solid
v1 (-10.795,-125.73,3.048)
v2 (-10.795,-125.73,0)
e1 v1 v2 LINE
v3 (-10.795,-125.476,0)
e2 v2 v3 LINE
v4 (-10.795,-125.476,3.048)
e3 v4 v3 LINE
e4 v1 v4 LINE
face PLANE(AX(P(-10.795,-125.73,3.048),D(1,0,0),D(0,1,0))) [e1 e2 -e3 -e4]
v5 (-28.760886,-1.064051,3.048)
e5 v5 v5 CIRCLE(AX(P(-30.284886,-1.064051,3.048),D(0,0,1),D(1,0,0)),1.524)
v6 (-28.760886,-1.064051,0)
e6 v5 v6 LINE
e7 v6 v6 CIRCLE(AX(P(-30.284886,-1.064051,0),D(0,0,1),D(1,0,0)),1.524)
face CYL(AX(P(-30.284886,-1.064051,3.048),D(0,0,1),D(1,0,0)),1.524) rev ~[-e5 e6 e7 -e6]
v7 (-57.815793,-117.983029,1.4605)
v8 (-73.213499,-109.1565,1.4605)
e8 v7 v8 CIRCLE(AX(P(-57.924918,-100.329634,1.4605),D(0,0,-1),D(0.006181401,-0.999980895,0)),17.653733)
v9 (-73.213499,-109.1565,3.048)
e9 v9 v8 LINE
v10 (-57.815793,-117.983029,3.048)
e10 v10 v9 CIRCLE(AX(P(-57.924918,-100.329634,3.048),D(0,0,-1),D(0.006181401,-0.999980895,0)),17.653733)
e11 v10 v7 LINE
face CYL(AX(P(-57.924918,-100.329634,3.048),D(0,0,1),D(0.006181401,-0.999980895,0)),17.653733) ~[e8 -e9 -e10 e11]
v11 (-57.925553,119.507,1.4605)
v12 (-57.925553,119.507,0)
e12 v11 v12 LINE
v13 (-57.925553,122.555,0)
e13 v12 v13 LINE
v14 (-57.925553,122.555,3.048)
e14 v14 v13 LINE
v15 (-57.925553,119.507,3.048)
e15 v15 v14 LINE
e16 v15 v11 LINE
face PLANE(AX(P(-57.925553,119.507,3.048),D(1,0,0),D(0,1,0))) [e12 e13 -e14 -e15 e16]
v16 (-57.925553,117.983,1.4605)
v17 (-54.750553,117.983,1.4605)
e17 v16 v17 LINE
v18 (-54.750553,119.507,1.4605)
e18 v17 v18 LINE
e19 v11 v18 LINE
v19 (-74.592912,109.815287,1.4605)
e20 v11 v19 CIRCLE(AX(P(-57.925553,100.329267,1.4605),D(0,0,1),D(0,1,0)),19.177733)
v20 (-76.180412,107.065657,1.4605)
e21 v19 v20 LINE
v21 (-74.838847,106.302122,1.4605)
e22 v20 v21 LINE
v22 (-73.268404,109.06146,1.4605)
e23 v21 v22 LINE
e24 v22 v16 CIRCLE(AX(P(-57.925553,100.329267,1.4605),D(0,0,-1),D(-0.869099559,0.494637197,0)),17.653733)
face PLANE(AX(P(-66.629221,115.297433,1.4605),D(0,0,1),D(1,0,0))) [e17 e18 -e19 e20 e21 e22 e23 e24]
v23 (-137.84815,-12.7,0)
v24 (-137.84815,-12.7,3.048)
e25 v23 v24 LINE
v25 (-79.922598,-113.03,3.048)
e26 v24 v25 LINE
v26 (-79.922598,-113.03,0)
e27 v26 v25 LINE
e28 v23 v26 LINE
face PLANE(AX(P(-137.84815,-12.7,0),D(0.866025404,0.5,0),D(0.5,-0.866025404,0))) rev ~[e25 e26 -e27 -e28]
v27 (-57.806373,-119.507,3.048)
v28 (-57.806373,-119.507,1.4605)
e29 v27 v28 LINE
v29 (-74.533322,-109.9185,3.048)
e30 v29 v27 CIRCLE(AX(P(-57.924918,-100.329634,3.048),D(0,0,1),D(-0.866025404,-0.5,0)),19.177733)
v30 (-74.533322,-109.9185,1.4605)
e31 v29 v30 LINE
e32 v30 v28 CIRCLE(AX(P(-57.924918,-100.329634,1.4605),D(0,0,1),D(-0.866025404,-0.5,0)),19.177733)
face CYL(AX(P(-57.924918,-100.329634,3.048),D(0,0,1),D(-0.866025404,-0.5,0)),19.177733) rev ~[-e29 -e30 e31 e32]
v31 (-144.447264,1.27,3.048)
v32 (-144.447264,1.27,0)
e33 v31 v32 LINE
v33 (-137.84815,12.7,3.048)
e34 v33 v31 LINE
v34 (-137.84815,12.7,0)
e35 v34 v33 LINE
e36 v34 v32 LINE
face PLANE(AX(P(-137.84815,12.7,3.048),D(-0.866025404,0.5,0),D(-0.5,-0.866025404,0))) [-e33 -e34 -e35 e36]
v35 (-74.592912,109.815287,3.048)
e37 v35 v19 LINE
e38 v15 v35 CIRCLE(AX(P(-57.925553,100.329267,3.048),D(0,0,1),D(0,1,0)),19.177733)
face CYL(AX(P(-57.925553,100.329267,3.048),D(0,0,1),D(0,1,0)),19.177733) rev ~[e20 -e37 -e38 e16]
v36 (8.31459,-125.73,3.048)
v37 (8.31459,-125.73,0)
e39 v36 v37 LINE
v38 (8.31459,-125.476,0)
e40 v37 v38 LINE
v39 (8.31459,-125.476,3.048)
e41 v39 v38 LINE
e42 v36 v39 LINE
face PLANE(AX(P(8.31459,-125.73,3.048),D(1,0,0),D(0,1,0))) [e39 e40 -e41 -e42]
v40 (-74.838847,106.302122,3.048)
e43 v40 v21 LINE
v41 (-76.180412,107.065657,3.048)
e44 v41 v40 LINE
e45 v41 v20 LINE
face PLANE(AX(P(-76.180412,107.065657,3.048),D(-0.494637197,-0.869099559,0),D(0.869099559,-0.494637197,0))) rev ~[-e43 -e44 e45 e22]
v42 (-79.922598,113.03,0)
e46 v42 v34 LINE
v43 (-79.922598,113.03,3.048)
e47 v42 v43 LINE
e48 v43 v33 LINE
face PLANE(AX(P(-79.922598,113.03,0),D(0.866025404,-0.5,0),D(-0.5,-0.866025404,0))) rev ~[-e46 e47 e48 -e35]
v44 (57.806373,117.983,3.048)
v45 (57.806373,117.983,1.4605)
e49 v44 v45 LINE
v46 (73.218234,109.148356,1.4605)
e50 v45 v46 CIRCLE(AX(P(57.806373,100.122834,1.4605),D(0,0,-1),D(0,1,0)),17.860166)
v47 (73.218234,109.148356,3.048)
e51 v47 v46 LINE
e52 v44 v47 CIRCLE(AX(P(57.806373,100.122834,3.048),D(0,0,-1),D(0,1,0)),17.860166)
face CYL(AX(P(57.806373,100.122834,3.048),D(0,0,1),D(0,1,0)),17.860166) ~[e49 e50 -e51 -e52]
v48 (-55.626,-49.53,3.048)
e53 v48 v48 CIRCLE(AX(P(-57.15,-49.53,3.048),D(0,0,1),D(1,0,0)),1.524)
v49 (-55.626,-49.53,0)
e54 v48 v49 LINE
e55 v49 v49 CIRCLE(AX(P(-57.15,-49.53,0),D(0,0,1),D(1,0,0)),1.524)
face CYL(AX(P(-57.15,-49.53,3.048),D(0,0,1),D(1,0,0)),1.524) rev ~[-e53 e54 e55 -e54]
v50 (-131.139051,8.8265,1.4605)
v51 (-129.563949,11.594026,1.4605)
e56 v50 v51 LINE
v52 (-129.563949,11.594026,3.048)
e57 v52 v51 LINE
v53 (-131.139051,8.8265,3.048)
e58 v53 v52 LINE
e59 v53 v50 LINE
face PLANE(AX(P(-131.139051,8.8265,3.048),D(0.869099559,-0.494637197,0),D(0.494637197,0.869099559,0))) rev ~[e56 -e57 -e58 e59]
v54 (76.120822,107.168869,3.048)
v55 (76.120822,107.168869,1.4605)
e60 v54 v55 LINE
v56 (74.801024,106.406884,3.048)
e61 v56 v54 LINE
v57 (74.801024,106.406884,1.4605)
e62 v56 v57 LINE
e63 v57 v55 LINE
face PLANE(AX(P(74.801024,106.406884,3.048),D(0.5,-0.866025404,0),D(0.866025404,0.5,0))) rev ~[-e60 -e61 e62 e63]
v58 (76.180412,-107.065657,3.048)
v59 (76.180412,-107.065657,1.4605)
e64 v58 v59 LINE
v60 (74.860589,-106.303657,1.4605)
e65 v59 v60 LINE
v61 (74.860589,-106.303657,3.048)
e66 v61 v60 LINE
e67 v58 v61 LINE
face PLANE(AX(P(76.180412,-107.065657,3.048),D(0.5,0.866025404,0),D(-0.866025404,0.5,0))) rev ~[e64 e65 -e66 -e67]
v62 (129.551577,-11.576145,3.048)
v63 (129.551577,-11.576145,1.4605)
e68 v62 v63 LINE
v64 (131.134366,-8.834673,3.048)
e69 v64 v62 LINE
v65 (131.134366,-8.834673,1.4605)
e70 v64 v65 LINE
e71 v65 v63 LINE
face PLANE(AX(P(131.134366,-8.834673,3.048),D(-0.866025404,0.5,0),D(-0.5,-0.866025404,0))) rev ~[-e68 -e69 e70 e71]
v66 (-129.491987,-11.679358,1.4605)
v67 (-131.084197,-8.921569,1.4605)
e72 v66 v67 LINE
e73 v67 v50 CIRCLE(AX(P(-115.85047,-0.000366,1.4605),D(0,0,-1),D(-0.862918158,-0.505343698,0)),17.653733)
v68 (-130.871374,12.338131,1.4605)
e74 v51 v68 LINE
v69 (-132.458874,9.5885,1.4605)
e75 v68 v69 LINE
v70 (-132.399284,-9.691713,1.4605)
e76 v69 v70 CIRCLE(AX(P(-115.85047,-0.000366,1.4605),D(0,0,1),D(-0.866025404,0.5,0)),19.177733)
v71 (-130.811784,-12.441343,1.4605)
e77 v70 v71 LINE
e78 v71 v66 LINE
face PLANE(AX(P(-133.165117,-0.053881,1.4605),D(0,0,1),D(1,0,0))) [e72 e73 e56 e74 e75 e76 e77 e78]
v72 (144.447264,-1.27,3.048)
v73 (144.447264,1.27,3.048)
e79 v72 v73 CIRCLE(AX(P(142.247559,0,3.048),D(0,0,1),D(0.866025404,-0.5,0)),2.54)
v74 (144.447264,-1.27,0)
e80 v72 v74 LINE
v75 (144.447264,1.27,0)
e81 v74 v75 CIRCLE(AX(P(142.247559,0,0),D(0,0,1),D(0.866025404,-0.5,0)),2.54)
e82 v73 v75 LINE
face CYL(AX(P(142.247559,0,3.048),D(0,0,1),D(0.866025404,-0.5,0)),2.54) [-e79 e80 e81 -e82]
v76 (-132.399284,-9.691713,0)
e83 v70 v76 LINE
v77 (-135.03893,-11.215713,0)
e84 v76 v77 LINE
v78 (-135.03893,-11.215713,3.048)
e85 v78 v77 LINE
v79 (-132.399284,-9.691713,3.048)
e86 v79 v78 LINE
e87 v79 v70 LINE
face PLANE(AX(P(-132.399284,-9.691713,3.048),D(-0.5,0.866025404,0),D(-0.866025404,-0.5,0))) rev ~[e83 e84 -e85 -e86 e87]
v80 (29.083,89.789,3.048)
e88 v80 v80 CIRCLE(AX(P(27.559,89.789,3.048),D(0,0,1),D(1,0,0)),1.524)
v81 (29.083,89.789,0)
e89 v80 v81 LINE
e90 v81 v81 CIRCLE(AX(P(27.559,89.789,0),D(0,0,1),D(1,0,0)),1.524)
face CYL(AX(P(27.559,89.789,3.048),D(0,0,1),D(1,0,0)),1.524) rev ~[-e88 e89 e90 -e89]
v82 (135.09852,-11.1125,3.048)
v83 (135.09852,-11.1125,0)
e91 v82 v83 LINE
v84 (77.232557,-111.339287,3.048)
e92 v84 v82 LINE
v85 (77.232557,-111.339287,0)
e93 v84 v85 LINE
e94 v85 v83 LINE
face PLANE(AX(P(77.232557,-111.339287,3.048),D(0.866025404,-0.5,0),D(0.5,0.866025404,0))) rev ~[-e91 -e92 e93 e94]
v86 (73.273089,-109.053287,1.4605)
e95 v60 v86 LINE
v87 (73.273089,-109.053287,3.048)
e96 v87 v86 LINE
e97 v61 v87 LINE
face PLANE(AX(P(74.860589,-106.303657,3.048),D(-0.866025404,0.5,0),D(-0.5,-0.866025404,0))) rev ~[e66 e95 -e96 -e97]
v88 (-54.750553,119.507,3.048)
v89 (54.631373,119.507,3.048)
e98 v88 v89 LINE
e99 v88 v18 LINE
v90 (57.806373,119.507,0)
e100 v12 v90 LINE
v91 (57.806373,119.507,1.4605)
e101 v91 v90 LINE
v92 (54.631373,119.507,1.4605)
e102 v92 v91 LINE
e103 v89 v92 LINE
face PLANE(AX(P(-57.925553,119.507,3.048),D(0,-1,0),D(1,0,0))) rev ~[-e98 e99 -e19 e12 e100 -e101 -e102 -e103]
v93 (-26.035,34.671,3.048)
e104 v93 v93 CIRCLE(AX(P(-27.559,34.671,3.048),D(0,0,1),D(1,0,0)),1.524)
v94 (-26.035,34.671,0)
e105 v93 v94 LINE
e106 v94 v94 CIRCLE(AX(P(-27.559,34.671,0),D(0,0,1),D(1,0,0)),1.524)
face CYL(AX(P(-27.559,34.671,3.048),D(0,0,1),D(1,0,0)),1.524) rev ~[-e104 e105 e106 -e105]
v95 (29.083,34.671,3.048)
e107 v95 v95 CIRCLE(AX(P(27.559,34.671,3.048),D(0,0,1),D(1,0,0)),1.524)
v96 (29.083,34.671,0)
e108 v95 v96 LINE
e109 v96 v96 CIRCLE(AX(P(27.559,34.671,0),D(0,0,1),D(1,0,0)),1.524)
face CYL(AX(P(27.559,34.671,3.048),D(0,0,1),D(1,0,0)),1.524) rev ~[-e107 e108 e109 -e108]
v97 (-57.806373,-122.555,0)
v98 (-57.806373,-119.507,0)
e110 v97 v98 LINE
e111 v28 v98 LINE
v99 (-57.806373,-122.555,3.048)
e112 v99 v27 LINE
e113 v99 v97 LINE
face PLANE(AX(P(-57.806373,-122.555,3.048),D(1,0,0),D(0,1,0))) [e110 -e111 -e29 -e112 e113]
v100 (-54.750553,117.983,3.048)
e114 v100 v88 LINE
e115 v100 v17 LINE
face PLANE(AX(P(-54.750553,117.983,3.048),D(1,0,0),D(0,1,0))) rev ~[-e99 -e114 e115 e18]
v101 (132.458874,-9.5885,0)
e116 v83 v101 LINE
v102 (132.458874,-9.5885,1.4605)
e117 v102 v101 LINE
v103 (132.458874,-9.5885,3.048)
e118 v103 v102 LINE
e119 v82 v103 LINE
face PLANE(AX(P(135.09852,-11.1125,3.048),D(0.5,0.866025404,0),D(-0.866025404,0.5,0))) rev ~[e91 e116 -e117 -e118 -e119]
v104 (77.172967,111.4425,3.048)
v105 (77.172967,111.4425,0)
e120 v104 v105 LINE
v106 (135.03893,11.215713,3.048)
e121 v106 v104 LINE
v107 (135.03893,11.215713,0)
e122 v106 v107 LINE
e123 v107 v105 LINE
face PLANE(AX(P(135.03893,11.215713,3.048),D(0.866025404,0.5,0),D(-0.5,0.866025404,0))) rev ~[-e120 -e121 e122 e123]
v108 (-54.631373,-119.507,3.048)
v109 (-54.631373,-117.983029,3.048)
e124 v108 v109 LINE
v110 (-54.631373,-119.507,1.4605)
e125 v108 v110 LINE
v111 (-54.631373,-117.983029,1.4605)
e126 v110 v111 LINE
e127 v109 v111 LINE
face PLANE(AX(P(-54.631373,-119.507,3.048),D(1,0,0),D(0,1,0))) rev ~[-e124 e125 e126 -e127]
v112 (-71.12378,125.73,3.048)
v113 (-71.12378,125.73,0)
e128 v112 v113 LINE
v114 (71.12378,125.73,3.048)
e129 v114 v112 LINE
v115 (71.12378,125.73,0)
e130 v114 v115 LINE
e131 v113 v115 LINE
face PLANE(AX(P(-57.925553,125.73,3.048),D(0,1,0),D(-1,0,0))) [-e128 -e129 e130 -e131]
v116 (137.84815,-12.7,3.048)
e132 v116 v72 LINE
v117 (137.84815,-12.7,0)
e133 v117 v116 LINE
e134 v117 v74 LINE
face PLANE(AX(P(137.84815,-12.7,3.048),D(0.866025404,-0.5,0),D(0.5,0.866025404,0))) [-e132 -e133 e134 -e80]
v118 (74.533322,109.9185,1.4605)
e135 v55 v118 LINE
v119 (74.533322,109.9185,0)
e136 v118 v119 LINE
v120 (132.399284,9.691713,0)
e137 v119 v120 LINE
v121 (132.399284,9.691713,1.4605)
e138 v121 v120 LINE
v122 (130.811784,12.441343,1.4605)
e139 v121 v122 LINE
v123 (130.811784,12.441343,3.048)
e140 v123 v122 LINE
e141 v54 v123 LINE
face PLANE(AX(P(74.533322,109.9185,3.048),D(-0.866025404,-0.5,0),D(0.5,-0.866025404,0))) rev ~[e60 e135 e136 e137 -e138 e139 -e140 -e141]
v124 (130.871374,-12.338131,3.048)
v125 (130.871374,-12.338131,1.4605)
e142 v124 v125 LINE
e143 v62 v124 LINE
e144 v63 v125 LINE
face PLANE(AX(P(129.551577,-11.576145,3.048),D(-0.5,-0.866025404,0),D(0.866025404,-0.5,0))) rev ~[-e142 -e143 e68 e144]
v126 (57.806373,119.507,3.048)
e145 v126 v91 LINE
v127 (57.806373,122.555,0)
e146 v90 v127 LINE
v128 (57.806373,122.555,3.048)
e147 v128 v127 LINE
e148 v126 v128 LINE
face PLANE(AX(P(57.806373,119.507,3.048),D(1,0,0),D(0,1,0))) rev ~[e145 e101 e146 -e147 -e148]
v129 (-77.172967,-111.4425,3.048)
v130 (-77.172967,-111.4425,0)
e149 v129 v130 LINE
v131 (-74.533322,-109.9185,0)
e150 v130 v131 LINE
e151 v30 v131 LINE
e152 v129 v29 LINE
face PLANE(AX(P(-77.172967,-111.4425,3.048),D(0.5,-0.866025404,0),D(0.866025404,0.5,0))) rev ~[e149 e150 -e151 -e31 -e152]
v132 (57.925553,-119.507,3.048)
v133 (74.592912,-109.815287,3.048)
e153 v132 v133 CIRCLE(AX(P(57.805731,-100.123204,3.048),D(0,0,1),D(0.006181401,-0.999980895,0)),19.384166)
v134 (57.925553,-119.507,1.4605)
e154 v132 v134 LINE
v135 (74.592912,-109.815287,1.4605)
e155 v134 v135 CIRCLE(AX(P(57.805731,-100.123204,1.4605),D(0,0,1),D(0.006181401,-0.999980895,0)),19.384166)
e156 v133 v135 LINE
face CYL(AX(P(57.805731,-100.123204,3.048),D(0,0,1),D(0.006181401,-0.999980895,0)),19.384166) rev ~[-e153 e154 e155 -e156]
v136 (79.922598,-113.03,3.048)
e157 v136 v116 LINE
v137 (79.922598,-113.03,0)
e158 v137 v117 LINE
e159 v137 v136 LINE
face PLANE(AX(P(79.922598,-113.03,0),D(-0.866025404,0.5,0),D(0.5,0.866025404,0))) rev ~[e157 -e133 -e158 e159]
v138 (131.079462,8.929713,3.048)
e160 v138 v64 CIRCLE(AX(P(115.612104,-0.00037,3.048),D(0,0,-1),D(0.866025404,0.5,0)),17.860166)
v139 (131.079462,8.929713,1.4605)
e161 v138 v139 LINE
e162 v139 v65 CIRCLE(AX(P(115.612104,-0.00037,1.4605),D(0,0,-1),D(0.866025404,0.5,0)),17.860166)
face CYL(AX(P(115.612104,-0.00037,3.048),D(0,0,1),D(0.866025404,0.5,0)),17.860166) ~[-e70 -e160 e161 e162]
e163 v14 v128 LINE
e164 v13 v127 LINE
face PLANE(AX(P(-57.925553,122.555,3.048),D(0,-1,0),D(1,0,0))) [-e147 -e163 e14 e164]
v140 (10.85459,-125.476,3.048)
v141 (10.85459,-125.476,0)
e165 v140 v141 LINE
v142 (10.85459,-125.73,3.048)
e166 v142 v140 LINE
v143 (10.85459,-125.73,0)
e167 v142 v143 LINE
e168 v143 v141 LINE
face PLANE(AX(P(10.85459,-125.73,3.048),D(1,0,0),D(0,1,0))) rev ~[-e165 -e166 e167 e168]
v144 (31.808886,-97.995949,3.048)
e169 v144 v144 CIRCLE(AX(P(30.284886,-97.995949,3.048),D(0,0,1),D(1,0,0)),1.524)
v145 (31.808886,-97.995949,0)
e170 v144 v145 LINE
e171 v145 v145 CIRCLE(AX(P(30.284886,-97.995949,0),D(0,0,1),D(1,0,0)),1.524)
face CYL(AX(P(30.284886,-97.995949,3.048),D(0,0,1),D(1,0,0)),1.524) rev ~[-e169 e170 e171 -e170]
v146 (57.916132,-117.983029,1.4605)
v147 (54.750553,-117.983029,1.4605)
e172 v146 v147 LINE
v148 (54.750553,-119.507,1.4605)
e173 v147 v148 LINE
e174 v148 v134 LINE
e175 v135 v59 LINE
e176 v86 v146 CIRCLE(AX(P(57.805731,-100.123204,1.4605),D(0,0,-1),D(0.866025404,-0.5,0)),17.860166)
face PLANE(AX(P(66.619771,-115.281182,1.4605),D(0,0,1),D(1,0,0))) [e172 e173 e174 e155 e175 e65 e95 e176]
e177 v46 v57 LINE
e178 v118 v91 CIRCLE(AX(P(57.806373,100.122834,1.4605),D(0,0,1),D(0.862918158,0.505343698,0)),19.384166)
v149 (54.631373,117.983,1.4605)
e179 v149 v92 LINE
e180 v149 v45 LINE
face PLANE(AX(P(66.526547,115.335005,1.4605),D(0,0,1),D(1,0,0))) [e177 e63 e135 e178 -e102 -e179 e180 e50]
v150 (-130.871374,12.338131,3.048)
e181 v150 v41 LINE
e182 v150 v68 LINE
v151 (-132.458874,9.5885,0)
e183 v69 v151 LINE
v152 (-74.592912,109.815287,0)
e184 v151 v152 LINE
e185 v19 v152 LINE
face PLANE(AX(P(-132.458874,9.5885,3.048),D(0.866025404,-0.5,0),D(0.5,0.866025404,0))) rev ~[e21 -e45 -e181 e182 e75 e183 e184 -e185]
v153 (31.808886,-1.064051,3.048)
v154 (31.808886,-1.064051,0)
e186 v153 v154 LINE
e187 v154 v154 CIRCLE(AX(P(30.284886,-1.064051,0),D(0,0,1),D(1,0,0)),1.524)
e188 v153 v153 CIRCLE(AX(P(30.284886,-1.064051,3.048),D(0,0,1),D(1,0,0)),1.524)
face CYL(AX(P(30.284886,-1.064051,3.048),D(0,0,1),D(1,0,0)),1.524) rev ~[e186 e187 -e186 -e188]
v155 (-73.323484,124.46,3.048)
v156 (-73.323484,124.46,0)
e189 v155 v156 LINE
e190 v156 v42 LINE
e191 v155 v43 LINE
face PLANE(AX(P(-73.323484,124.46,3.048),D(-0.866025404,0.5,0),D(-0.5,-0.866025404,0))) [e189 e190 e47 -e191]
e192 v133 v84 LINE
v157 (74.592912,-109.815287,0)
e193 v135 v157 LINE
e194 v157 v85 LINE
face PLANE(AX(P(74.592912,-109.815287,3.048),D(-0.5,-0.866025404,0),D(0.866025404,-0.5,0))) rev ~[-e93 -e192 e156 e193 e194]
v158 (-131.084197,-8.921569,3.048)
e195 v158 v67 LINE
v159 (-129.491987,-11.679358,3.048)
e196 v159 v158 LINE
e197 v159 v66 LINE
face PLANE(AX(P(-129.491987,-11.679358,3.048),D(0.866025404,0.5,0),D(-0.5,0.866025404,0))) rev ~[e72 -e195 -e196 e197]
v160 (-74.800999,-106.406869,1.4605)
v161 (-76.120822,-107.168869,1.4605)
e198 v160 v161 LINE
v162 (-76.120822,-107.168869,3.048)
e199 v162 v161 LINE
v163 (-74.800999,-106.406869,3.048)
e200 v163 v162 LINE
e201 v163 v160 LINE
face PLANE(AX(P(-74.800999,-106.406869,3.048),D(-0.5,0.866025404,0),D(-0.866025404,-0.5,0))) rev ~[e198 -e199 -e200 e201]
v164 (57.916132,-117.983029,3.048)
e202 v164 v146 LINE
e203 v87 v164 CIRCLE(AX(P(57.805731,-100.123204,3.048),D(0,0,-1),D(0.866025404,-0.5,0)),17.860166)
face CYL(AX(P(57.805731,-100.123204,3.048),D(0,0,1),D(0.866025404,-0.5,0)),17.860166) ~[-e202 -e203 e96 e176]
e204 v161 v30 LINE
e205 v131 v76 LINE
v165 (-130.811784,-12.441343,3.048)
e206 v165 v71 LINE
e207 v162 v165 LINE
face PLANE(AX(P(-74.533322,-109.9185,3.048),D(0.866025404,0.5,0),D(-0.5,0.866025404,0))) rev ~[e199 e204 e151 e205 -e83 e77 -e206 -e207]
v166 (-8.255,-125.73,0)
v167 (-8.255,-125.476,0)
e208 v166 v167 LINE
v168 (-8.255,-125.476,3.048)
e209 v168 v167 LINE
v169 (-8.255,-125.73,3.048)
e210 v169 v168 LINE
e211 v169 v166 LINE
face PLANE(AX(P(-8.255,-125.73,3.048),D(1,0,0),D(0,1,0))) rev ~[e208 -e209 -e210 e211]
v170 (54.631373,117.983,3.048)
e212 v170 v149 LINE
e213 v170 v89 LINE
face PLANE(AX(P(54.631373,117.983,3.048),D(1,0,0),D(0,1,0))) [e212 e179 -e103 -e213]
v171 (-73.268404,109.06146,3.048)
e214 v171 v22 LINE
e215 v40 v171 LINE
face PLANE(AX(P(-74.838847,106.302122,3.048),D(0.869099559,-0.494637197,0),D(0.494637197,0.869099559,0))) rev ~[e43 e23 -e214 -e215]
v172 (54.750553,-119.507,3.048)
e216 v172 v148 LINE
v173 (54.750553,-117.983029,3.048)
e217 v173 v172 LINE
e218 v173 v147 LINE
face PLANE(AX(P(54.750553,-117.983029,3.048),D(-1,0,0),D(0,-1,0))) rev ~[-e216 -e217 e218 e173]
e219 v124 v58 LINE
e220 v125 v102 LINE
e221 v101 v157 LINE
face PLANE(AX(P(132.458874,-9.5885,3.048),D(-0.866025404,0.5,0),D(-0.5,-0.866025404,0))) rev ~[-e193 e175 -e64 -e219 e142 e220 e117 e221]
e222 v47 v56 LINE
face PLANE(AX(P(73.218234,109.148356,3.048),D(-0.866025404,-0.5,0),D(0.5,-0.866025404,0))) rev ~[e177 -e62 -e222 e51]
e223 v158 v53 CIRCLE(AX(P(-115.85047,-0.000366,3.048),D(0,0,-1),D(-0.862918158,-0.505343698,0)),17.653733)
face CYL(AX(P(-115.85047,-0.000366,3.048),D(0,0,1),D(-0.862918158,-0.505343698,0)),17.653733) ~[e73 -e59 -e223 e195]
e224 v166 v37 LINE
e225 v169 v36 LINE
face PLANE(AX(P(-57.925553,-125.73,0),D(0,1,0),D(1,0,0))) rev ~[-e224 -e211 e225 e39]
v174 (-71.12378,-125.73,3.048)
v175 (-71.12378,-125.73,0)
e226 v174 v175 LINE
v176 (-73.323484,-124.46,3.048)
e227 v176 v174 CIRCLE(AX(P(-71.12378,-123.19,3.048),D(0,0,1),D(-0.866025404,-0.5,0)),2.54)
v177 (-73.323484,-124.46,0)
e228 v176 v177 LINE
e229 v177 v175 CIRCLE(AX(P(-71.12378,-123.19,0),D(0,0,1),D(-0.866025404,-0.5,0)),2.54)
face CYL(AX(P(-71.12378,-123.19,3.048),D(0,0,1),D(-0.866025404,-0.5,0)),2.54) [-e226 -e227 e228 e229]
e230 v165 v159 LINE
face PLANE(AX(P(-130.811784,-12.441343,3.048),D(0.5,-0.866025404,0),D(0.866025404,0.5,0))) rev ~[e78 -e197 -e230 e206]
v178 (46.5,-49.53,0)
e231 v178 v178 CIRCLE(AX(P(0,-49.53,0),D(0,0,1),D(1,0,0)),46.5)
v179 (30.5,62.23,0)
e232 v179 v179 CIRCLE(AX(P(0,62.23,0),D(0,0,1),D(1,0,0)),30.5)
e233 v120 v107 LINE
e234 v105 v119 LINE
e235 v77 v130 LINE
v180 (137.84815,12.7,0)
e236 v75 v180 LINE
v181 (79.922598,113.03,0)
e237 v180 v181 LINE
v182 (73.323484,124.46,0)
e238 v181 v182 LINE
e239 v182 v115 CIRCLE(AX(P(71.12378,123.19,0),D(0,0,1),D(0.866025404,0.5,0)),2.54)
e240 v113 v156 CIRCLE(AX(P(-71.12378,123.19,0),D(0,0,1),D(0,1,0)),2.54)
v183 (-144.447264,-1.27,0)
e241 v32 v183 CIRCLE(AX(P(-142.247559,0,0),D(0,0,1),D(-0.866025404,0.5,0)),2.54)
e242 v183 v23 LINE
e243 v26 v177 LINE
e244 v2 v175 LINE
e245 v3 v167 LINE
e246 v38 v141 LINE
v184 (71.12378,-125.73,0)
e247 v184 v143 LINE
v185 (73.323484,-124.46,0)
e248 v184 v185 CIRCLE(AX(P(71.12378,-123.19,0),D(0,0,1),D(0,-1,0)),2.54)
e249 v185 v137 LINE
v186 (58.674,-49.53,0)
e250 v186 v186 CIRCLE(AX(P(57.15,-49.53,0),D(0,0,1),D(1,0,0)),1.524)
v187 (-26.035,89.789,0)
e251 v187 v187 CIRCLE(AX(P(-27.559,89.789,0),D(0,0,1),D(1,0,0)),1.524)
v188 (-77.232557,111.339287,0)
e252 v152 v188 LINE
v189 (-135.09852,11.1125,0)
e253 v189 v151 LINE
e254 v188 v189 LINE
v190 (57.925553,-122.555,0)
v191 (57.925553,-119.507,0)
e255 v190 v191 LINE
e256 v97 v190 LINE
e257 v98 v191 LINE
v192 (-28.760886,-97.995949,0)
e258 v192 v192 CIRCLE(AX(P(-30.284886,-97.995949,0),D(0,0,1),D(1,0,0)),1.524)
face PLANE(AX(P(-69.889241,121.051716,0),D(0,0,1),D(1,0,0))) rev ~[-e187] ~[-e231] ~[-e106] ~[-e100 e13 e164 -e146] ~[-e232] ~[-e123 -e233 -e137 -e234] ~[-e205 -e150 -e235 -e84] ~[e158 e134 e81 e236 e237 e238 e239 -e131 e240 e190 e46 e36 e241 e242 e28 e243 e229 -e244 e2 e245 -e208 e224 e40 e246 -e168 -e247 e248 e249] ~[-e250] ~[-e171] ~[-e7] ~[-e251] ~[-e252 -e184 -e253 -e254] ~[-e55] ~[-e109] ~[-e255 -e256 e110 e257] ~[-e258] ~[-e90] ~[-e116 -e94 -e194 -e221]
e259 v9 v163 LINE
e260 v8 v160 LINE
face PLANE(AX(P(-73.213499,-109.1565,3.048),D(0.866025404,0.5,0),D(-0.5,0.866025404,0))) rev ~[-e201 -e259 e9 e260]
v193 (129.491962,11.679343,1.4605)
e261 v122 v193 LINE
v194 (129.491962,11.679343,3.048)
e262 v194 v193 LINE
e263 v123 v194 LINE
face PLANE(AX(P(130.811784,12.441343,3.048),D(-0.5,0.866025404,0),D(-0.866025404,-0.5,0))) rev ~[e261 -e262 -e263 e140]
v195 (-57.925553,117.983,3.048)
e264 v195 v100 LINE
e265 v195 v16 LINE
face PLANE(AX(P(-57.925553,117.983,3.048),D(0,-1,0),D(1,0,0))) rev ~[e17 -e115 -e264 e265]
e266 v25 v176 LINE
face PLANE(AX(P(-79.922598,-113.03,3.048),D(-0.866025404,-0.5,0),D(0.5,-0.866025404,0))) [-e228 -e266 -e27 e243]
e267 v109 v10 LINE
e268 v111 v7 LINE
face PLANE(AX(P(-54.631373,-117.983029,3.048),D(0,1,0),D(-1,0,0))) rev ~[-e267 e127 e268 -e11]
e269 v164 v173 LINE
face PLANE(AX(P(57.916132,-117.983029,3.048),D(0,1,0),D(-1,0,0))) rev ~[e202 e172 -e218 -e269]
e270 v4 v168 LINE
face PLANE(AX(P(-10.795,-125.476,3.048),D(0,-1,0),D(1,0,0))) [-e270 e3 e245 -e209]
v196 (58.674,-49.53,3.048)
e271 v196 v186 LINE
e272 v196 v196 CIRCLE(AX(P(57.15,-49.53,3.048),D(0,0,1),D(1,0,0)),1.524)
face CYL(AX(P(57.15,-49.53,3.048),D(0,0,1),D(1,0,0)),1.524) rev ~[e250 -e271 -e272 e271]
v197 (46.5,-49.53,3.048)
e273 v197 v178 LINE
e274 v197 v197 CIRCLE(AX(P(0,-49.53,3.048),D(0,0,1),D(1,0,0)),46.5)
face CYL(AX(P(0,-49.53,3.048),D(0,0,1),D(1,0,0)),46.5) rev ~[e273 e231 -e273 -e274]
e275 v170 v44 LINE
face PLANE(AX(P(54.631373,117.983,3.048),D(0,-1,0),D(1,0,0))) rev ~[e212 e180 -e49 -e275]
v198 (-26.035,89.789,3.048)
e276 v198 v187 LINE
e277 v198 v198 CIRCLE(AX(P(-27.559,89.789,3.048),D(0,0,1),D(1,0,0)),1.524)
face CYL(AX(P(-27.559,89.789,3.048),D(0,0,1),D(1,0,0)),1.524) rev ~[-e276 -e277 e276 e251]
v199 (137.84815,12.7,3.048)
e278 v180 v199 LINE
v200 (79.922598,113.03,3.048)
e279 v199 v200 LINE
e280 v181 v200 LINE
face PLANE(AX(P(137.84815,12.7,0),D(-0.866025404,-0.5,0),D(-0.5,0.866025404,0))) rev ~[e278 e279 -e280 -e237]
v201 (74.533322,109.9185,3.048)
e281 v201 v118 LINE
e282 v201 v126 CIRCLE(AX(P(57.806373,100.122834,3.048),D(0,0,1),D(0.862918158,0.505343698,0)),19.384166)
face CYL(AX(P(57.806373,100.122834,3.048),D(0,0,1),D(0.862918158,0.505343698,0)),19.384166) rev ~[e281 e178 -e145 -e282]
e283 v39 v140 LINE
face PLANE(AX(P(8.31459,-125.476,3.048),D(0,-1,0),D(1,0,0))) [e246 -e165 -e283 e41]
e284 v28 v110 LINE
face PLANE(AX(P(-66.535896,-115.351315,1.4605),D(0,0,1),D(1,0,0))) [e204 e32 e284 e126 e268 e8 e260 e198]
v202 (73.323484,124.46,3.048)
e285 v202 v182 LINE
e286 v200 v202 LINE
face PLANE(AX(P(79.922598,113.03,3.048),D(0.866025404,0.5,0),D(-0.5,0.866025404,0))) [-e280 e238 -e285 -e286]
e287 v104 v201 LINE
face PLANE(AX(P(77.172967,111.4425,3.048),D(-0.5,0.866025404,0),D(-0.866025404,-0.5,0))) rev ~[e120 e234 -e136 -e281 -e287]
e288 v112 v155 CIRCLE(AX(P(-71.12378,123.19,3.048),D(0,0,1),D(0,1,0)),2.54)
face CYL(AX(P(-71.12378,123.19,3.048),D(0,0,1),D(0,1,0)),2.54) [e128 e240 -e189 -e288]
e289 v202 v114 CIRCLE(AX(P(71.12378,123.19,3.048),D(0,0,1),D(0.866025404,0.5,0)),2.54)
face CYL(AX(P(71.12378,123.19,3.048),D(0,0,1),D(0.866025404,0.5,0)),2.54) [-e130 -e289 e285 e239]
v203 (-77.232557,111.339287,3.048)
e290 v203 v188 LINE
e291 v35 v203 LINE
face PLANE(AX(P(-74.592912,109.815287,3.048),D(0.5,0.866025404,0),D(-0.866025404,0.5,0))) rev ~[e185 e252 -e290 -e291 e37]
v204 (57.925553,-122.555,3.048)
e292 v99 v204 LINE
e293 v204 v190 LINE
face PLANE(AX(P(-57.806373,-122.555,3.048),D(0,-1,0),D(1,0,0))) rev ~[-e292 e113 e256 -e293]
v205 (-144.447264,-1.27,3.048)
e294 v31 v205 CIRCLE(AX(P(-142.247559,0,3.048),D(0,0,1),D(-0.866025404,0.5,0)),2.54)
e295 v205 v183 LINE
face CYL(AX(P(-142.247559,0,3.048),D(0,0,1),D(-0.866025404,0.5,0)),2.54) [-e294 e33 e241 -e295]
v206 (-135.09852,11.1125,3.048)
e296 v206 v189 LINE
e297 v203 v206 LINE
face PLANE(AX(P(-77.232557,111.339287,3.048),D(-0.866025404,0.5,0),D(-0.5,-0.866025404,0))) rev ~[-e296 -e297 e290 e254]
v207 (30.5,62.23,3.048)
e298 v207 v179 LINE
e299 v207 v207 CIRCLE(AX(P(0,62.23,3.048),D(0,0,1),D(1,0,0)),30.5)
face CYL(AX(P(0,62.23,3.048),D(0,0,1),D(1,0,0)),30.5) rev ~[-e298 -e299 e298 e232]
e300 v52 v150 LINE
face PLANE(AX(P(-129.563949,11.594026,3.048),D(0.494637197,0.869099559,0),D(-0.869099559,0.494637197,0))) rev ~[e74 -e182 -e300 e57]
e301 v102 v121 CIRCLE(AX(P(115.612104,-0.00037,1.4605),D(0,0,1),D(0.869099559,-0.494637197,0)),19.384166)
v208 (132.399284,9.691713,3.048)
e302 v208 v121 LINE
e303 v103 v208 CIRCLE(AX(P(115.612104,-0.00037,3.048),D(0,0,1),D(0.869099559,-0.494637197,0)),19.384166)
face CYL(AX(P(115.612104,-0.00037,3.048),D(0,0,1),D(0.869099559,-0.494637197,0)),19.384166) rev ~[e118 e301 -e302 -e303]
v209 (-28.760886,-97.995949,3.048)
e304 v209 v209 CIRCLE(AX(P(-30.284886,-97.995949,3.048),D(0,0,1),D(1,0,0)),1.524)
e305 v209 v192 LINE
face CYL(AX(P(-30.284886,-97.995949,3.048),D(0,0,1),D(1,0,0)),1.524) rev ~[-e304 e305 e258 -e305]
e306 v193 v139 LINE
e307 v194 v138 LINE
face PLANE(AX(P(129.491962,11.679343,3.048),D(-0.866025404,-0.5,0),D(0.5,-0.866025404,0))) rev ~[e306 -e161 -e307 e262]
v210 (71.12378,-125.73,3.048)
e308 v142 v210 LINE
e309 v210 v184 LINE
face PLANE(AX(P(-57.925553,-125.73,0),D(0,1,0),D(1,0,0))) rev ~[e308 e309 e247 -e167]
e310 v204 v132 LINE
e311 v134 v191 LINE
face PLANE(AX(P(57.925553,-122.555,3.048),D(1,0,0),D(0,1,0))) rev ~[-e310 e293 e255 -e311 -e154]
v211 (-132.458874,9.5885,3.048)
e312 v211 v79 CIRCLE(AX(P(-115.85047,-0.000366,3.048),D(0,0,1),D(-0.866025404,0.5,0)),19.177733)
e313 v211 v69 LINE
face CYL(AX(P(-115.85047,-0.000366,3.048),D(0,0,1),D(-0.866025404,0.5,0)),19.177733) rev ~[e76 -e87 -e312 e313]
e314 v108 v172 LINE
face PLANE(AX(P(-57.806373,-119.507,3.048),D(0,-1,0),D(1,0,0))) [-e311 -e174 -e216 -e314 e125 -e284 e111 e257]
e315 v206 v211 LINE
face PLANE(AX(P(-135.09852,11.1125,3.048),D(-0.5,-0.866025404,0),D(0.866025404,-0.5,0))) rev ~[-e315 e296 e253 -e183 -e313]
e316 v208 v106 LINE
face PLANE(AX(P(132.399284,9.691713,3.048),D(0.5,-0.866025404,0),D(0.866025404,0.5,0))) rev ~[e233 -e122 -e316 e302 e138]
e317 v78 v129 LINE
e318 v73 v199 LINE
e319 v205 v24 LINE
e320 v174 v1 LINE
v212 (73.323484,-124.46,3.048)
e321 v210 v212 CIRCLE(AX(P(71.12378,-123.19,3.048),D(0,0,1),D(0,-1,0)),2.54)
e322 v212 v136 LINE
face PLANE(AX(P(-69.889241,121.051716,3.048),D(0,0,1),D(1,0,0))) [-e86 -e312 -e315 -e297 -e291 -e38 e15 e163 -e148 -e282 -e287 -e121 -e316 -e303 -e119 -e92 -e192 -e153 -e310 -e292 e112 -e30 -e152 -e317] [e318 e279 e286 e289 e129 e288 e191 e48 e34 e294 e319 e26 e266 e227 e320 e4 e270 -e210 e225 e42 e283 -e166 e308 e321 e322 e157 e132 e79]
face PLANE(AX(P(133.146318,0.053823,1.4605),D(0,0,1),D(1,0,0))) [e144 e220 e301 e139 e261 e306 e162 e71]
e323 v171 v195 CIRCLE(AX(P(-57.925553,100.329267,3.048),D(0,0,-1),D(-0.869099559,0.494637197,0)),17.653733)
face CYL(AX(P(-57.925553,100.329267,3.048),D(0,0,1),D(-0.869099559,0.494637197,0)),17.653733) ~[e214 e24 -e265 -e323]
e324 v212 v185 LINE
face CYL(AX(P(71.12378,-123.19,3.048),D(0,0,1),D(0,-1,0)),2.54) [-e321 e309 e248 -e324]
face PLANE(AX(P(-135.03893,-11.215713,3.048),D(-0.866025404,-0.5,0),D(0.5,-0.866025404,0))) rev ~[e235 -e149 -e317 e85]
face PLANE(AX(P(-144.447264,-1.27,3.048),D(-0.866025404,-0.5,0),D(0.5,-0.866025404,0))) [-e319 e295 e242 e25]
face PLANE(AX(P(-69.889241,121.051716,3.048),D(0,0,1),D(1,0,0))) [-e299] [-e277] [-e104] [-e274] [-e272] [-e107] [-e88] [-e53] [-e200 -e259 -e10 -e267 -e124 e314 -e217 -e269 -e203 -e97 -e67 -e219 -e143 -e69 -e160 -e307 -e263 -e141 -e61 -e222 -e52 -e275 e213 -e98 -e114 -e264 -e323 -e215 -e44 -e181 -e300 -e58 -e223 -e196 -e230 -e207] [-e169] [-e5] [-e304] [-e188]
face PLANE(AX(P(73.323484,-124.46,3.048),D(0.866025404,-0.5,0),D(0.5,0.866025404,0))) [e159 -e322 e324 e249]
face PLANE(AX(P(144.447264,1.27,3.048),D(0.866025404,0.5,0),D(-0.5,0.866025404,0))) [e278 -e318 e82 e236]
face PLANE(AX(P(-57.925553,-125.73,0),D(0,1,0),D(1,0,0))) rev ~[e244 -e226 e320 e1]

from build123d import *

# Parameters (mm, degrees)
F1_DEPTH  = 3.048
F2_R      = 30.5
F2_R_2    = 46.5
F2_R_3    = 1.524
F3_DEPTH  = 25.4
F4_W      = 115.7319251503
F4_H      = 3.048
F5_DEPTH  = 3.049
F7_W      = 2.54
F7_H      = 0.254
F8_DEPTH  = 3.049
F10_DEPTH = 3.048
F11_W     = 3.175
F11_H     = 1.524
F12_DEPTH = 1.5875


with BuildPart() as f1:
    # F0 (on Top) → F1 (new body)
    with BuildSketch(Plane.XY):
        with BuildLine():
            Line((-79.9225977639, 113.03), (-137.8481502717, 12.7))
            ThreePointArc((-137.8481502717, 12.7), (-141.2511050156, 0), (-137.8481502717, -12.7))
            Line((-137.8481502717, -12.7), (-79.9225977639, -113.03))
            ThreePointArc((-79.9225977639, -113.03), (-70.6255525078, -122.3270452561), (-57.9255525078, -125.73))
            Line((-57.9255525078, -125.73), (57.9255525078, -125.73))
            ThreePointArc((57.9255525078, -125.73), (70.6255525078, -122.3270452561), (79.9225977639, -113.03))
            Line((79.9225977639, -113.03), (137.8481502717, -12.7))
            ThreePointArc((137.8481502717, -12.7), (141.2511050156, 0), (137.8481502717, 12.7))
            Line((137.8481502717, 12.7), (79.9225977639, 113.03))
            ThreePointArc((79.9225977639, 113.03), (70.6255525078, 122.3270452561), (57.9255525078, 125.73))
            Line((57.9255525078, 125.73), (-57.9255525078, 125.73))
            ThreePointArc((-57.9255525078, 125.73), (-70.6255525078, 122.3270452561), (-79.9225977639, 113.03))
        make_face()
    extrude(amount=F1_DEPTH)

    # F2 (on face) → F3 (cut)
    with BuildSketch(Plane.XY.offset(3.048)):
        with Locations((0, 62.23)):
            Circle(F2_R)
        with Locations((0, -49.53)):
            Circle(F2_R_2)
        with Locations((57.15, -49.53)):
            Circle(F2_R_3)
        with Locations((30.2848859509, -1.0640513047)):
            Circle(F2_R_3)
        with Locations((30.2848859509, -97.9959486953)):
            Circle(F2_R_3)
        with Locations((-30.2848859509, -1.0640513047)):
            Circle(F2_R_3)
        with Locations((-30.2848859509, -97.9959486953)):
            Circle(F2_R_3)
        with Locations((-57.15, -49.53)):
            Circle(F2_R_3)
        with Locations((-27.559, 89.789)):
            Circle(F2_R_3)
        with Locations((-27.559, 34.671)):
            Circle(F2_R_3)
        with Locations((27.559, 34.671)):
            Circle(F2_R_3)
        with Locations((27.559, 89.789)):
            Circle(F2_R_3)
    extrude(amount=-F3_DEPTH, mode=Mode.SUBTRACT)

    # F4 (on face) → F5 (cut, through all)
    with BuildSketch(Plane.XY.offset(3.048)):
        Polygon((-135.0389296821, -11.215712791), (-77.1729671069, -111.4425), (-74.5333216761, -109.9185), (-132.3992842513, -9.6917127909), align=None)
        Polygon((-77.2325570395, 111.339287209), (-135.0985196147, 11.1125), (-132.4588741839, 9.5885), (-74.5929116088, 109.8152872091), align=None)
        with Locations((-0.0595899326, 121.031)):
            Rectangle(F4_W, F4_H)
        Polygon((135.0389296821, 11.215712791), (77.1729671069, 111.4425), (74.5333216761, 109.9185), (132.3992842513, 9.691712791), align=None)
        Polygon((77.2325570395, -111.339287209), (135.0985196147, -11.1125), (132.4588741839, -9.5885), (74.5929116088, -109.815287209), align=None)
        with Locations((0.0595899326, -121.031)):
            Rectangle(F4_W, F4_H)
    extrude(amount=-F5_DEPTH, mode=Mode.SUBTRACT)

    # F7 (on face) → F8 (cut, through all)
    with BuildSketch(Plane.XY.offset(3.048)):
        with Locations((-9.525, -125.603)):
            Rectangle(F7_W, F7_H)
        with Locations((9.5845899326, -125.603)):
            Rectangle(F7_W, F7_H)
    extrude(amount=-F8_DEPTH, mode=Mode.SUBTRACT)

    # F9 (on face) → F10 (join)
    with BuildSketch(Plane.XY.offset(3.048)):
        with BuildLine():
            Line((-73.3234841871, 124.46), (-79.9225977639, 113.03))
            Line((-79.9225977639, 113.03), (-57.9255525078, 125.73))
            Line((-57.9255525078, 125.73), (-71.1237796615, 125.73))
            ThreePointArc((-71.1237796615, 125.73), (-72.3937796615, 125.3897045256), (-73.3234841871, 124.46))
        make_face()
        with BuildLine():
            ThreePointArc((-137.8481502717, -12.7), (-141.2511050156, 0), (-137.8481502717, 12.7))
            Line((-137.8481502717, 12.7), (-144.4472638486, 1.27))
            ThreePointArc((-144.4472638486, 1.27), (-144.7875593229, 0), (-144.4472638486, -1.27))
            Line((-144.4472638486, -1.27), (-137.8481502717, -12.7))
        make_face()
        with BuildLine():
            ThreePointArc((-57.9255525078, -125.73), (-70.6255525078, -122.3270452561), (-79.9225977639, -113.03))
            Line((-79.9225977639, -113.03), (-73.3234841871, -124.46))
            ThreePointArc((-73.3234841871, -124.46), (-72.3937796615, -125.3897045256), (-71.1237796615, -125.73))
            Line((-71.1237796615, -125.73), (-57.9255525078, -125.73))
        make_face()
        with BuildLine():
            Line((73.3234841871, -124.46), (79.9225977639, -113.03))
            ThreePointArc((79.9225977639, -113.03), (70.6255525078, -122.3270452561), (57.9255525078, -125.73))
            Line((57.9255525078, -125.73), (71.1237796615, -125.73))
            ThreePointArc((71.1237796615, -125.73), (72.3937796615, -125.3897045256), (73.3234841871, -124.46))
        make_face()
        with BuildLine():
            Line((144.4472638486, 1.27), (137.8481502717, 12.7))
            ThreePointArc((137.8481502717, 12.7), (141.2511050156, 0), (137.8481502717, -12.7))
            Line((137.8481502717, -12.7), (144.4472638486, -1.27))
            ThreePointArc((144.4472638486, -1.27), (144.7875593229, 0), (144.4472638486, 1.27))
        make_face()
        with BuildLine():
            Line((71.1237796615, 125.73), (57.9255525078, 125.73))
            ThreePointArc((57.9255525078, 125.73), (70.6255525078, 122.3270452561), (79.9225977639, 113.03))
            Line((79.9225977639, 113.03), (73.3234841871, 124.46))
            ThreePointArc((73.3234841871, 124.46), (72.3937796615, 125.3897045256), (71.1237796615, 125.73))
        make_face()
    extrude(amount=-F10_DEPTH)

    # F11 (on face) → F12 (cut)
    with BuildSketch(Plane.XY.offset(3.048)):
        with BuildLine():
            Line((-57.9255525078, 117.983), (-57.9255525078, 119.507))
            ThreePointArc((-57.9255525078, 119.507), (-67.5657049473, 116.9079552121), (-74.5929116088, 109.8152872091))
            Line((-74.5929116088, 109.8152872091), (-73.2684038811, 109.0614601206))
            ThreePointArc((-73.2684038811, 109.0614601206), (-66.7996293906, 115.5904939256), (-57.9255525078, 117.983))
        make_face()
        with Locations((-56.3380525078, 118.745)):
            Rectangle(F11_W, F11_H)
        Polygon((-73.2684038811, 109.0614601206), (-74.5929116088, 109.8152872091), (-76.1804116088, 107.065656552), (-74.8388469782, 106.3021217395), align=None)
        with BuildLine():
            Line((73.2182344036, 109.1483562046), (74.5333216761, 109.9185))
            ThreePointArc((74.5333216761, 109.9185), (67.446525082, 116.9398894425), (57.8063726425, 119.507))
            Line((57.8063726425, 119.507), (57.8063726425, 117.983))
            ThreePointArc((57.8063726425, 117.983), (66.6886079177, 115.6177179059), (73.2182344036, 109.1483562046))
        make_face()
        Polygon((76.1208216761, 107.168869343), (74.5333216761, 109.9185), (73.2182344036, 109.1483562046), (74.801024176, 106.406883901), align=None)
        with Locations((56.2188726425, 118.745)):
            Rectangle(F11_W, F11_H)
        with BuildLine():
            Line((-131.1390514686, 8.8265), (-132.4588741839, 9.5885))
            ThreePointArc((-132.4588741839, 9.5885), (-135.0281115918, -0.0596393029), (-132.3992842513, -9.6917127909))
            Line((-132.3992842513, -9.6917127909), (-131.0841969788, -8.9215689955))
            ThreePointArc((-131.0841969788, -8.9215689955), (-133.5041188708, -0.0549290528), (-131.1390514686, 8.8265))
        make_face()
        Polygon((-130.8713741839, 12.338130657), (-132.4588741839, 9.5885), (-131.1390514686, 8.8265), (-129.563948664, 11.5940256944), align=None)
        Polygon((-131.0841969788, -8.9215689955), (-132.3992842513, -9.6917127909), (-130.8117842513, -12.4413434479), (-129.4919867512, -11.679358006), align=None)
        with BuildLine():
            Line((-73.2134989608, -109.1565), (-74.5333216761, -109.9185))
            ThreePointArc((-74.5333216761, -109.9185), (-67.4624066445, -116.9675945149), (-57.8063726425, -119.507))
            Line((-57.8063726425, -119.507), (-57.8157930976, -117.983029116))
            ThreePointArc((-57.8157930976, -117.983029116), (-66.7044894803, -115.6454229784), (-73.2134989608, -109.1565))
        make_face()
        Polygon((-76.1208216761, -107.1688693429), (-74.5333216761, -109.9185), (-73.2134989608, -109.1565), (-74.8009989608, -106.4068693429), align=None)
        Polygon((-57.8157930976, -117.983029116), (-57.8063726425, -119.507), (-54.6313726425, -119.507), (-54.6313726425, -117.983029116), align=None)
        with BuildLine():
            Line((57.9161320527, -117.983029116), (57.9255525078, -119.507))
            ThreePointArc((57.9255525078, -119.507), (67.5496524319, -116.8803488392), (74.5929116088, -109.815287209))
            Line((74.5929116088, -109.815287209), (73.2730888934, -109.053287209))
            ThreePointArc((73.2730888934, -109.053287209), (66.7835768752, -115.5628875527), (57.9161320527, -117.983029116))
        make_face()
        Polygon((54.7505525078, -119.507), (57.9255525078, -119.507), (57.9161320527, -117.983029116), (54.7505525078, -117.983029116), align=None)
        Polygon((73.2730888934, -109.053287209), (74.5929116088, -109.815287209), (76.1804116088, -107.065656552), (74.8605888934, -106.303656552), align=None)
        with BuildLine():
            Line((131.1343664563, -8.8346729115), (132.4588741839, -9.5885))
            ThreePointArc((132.4588741839, -9.5885), (134.9961775139, 0.0595406033), (132.3992842513, 9.691712791))
            Line((132.3992842513, 9.691712791), (131.0794615359, 8.929712791))
            ThreePointArc((131.0794615359, 8.929712791), (133.4721847929, 0.0548303532), (131.1343664563, -8.8346729115))
        make_face()
        Polygon((130.8713741839, -12.338130657), (132.4588741839, -9.5885), (131.1343664563, -8.8346729115), (129.5515766838, -11.576145215), align=None)
        Polygon((131.0794615359, 8.929712791), (132.3992842513, 9.691712791), (130.8117842513, 12.441343448), (129.4919615359, 11.679343448), align=None)
    extrude(amount=-F12_DEPTH, mode=Mode.SUBTRACT)


solid = f1.part
